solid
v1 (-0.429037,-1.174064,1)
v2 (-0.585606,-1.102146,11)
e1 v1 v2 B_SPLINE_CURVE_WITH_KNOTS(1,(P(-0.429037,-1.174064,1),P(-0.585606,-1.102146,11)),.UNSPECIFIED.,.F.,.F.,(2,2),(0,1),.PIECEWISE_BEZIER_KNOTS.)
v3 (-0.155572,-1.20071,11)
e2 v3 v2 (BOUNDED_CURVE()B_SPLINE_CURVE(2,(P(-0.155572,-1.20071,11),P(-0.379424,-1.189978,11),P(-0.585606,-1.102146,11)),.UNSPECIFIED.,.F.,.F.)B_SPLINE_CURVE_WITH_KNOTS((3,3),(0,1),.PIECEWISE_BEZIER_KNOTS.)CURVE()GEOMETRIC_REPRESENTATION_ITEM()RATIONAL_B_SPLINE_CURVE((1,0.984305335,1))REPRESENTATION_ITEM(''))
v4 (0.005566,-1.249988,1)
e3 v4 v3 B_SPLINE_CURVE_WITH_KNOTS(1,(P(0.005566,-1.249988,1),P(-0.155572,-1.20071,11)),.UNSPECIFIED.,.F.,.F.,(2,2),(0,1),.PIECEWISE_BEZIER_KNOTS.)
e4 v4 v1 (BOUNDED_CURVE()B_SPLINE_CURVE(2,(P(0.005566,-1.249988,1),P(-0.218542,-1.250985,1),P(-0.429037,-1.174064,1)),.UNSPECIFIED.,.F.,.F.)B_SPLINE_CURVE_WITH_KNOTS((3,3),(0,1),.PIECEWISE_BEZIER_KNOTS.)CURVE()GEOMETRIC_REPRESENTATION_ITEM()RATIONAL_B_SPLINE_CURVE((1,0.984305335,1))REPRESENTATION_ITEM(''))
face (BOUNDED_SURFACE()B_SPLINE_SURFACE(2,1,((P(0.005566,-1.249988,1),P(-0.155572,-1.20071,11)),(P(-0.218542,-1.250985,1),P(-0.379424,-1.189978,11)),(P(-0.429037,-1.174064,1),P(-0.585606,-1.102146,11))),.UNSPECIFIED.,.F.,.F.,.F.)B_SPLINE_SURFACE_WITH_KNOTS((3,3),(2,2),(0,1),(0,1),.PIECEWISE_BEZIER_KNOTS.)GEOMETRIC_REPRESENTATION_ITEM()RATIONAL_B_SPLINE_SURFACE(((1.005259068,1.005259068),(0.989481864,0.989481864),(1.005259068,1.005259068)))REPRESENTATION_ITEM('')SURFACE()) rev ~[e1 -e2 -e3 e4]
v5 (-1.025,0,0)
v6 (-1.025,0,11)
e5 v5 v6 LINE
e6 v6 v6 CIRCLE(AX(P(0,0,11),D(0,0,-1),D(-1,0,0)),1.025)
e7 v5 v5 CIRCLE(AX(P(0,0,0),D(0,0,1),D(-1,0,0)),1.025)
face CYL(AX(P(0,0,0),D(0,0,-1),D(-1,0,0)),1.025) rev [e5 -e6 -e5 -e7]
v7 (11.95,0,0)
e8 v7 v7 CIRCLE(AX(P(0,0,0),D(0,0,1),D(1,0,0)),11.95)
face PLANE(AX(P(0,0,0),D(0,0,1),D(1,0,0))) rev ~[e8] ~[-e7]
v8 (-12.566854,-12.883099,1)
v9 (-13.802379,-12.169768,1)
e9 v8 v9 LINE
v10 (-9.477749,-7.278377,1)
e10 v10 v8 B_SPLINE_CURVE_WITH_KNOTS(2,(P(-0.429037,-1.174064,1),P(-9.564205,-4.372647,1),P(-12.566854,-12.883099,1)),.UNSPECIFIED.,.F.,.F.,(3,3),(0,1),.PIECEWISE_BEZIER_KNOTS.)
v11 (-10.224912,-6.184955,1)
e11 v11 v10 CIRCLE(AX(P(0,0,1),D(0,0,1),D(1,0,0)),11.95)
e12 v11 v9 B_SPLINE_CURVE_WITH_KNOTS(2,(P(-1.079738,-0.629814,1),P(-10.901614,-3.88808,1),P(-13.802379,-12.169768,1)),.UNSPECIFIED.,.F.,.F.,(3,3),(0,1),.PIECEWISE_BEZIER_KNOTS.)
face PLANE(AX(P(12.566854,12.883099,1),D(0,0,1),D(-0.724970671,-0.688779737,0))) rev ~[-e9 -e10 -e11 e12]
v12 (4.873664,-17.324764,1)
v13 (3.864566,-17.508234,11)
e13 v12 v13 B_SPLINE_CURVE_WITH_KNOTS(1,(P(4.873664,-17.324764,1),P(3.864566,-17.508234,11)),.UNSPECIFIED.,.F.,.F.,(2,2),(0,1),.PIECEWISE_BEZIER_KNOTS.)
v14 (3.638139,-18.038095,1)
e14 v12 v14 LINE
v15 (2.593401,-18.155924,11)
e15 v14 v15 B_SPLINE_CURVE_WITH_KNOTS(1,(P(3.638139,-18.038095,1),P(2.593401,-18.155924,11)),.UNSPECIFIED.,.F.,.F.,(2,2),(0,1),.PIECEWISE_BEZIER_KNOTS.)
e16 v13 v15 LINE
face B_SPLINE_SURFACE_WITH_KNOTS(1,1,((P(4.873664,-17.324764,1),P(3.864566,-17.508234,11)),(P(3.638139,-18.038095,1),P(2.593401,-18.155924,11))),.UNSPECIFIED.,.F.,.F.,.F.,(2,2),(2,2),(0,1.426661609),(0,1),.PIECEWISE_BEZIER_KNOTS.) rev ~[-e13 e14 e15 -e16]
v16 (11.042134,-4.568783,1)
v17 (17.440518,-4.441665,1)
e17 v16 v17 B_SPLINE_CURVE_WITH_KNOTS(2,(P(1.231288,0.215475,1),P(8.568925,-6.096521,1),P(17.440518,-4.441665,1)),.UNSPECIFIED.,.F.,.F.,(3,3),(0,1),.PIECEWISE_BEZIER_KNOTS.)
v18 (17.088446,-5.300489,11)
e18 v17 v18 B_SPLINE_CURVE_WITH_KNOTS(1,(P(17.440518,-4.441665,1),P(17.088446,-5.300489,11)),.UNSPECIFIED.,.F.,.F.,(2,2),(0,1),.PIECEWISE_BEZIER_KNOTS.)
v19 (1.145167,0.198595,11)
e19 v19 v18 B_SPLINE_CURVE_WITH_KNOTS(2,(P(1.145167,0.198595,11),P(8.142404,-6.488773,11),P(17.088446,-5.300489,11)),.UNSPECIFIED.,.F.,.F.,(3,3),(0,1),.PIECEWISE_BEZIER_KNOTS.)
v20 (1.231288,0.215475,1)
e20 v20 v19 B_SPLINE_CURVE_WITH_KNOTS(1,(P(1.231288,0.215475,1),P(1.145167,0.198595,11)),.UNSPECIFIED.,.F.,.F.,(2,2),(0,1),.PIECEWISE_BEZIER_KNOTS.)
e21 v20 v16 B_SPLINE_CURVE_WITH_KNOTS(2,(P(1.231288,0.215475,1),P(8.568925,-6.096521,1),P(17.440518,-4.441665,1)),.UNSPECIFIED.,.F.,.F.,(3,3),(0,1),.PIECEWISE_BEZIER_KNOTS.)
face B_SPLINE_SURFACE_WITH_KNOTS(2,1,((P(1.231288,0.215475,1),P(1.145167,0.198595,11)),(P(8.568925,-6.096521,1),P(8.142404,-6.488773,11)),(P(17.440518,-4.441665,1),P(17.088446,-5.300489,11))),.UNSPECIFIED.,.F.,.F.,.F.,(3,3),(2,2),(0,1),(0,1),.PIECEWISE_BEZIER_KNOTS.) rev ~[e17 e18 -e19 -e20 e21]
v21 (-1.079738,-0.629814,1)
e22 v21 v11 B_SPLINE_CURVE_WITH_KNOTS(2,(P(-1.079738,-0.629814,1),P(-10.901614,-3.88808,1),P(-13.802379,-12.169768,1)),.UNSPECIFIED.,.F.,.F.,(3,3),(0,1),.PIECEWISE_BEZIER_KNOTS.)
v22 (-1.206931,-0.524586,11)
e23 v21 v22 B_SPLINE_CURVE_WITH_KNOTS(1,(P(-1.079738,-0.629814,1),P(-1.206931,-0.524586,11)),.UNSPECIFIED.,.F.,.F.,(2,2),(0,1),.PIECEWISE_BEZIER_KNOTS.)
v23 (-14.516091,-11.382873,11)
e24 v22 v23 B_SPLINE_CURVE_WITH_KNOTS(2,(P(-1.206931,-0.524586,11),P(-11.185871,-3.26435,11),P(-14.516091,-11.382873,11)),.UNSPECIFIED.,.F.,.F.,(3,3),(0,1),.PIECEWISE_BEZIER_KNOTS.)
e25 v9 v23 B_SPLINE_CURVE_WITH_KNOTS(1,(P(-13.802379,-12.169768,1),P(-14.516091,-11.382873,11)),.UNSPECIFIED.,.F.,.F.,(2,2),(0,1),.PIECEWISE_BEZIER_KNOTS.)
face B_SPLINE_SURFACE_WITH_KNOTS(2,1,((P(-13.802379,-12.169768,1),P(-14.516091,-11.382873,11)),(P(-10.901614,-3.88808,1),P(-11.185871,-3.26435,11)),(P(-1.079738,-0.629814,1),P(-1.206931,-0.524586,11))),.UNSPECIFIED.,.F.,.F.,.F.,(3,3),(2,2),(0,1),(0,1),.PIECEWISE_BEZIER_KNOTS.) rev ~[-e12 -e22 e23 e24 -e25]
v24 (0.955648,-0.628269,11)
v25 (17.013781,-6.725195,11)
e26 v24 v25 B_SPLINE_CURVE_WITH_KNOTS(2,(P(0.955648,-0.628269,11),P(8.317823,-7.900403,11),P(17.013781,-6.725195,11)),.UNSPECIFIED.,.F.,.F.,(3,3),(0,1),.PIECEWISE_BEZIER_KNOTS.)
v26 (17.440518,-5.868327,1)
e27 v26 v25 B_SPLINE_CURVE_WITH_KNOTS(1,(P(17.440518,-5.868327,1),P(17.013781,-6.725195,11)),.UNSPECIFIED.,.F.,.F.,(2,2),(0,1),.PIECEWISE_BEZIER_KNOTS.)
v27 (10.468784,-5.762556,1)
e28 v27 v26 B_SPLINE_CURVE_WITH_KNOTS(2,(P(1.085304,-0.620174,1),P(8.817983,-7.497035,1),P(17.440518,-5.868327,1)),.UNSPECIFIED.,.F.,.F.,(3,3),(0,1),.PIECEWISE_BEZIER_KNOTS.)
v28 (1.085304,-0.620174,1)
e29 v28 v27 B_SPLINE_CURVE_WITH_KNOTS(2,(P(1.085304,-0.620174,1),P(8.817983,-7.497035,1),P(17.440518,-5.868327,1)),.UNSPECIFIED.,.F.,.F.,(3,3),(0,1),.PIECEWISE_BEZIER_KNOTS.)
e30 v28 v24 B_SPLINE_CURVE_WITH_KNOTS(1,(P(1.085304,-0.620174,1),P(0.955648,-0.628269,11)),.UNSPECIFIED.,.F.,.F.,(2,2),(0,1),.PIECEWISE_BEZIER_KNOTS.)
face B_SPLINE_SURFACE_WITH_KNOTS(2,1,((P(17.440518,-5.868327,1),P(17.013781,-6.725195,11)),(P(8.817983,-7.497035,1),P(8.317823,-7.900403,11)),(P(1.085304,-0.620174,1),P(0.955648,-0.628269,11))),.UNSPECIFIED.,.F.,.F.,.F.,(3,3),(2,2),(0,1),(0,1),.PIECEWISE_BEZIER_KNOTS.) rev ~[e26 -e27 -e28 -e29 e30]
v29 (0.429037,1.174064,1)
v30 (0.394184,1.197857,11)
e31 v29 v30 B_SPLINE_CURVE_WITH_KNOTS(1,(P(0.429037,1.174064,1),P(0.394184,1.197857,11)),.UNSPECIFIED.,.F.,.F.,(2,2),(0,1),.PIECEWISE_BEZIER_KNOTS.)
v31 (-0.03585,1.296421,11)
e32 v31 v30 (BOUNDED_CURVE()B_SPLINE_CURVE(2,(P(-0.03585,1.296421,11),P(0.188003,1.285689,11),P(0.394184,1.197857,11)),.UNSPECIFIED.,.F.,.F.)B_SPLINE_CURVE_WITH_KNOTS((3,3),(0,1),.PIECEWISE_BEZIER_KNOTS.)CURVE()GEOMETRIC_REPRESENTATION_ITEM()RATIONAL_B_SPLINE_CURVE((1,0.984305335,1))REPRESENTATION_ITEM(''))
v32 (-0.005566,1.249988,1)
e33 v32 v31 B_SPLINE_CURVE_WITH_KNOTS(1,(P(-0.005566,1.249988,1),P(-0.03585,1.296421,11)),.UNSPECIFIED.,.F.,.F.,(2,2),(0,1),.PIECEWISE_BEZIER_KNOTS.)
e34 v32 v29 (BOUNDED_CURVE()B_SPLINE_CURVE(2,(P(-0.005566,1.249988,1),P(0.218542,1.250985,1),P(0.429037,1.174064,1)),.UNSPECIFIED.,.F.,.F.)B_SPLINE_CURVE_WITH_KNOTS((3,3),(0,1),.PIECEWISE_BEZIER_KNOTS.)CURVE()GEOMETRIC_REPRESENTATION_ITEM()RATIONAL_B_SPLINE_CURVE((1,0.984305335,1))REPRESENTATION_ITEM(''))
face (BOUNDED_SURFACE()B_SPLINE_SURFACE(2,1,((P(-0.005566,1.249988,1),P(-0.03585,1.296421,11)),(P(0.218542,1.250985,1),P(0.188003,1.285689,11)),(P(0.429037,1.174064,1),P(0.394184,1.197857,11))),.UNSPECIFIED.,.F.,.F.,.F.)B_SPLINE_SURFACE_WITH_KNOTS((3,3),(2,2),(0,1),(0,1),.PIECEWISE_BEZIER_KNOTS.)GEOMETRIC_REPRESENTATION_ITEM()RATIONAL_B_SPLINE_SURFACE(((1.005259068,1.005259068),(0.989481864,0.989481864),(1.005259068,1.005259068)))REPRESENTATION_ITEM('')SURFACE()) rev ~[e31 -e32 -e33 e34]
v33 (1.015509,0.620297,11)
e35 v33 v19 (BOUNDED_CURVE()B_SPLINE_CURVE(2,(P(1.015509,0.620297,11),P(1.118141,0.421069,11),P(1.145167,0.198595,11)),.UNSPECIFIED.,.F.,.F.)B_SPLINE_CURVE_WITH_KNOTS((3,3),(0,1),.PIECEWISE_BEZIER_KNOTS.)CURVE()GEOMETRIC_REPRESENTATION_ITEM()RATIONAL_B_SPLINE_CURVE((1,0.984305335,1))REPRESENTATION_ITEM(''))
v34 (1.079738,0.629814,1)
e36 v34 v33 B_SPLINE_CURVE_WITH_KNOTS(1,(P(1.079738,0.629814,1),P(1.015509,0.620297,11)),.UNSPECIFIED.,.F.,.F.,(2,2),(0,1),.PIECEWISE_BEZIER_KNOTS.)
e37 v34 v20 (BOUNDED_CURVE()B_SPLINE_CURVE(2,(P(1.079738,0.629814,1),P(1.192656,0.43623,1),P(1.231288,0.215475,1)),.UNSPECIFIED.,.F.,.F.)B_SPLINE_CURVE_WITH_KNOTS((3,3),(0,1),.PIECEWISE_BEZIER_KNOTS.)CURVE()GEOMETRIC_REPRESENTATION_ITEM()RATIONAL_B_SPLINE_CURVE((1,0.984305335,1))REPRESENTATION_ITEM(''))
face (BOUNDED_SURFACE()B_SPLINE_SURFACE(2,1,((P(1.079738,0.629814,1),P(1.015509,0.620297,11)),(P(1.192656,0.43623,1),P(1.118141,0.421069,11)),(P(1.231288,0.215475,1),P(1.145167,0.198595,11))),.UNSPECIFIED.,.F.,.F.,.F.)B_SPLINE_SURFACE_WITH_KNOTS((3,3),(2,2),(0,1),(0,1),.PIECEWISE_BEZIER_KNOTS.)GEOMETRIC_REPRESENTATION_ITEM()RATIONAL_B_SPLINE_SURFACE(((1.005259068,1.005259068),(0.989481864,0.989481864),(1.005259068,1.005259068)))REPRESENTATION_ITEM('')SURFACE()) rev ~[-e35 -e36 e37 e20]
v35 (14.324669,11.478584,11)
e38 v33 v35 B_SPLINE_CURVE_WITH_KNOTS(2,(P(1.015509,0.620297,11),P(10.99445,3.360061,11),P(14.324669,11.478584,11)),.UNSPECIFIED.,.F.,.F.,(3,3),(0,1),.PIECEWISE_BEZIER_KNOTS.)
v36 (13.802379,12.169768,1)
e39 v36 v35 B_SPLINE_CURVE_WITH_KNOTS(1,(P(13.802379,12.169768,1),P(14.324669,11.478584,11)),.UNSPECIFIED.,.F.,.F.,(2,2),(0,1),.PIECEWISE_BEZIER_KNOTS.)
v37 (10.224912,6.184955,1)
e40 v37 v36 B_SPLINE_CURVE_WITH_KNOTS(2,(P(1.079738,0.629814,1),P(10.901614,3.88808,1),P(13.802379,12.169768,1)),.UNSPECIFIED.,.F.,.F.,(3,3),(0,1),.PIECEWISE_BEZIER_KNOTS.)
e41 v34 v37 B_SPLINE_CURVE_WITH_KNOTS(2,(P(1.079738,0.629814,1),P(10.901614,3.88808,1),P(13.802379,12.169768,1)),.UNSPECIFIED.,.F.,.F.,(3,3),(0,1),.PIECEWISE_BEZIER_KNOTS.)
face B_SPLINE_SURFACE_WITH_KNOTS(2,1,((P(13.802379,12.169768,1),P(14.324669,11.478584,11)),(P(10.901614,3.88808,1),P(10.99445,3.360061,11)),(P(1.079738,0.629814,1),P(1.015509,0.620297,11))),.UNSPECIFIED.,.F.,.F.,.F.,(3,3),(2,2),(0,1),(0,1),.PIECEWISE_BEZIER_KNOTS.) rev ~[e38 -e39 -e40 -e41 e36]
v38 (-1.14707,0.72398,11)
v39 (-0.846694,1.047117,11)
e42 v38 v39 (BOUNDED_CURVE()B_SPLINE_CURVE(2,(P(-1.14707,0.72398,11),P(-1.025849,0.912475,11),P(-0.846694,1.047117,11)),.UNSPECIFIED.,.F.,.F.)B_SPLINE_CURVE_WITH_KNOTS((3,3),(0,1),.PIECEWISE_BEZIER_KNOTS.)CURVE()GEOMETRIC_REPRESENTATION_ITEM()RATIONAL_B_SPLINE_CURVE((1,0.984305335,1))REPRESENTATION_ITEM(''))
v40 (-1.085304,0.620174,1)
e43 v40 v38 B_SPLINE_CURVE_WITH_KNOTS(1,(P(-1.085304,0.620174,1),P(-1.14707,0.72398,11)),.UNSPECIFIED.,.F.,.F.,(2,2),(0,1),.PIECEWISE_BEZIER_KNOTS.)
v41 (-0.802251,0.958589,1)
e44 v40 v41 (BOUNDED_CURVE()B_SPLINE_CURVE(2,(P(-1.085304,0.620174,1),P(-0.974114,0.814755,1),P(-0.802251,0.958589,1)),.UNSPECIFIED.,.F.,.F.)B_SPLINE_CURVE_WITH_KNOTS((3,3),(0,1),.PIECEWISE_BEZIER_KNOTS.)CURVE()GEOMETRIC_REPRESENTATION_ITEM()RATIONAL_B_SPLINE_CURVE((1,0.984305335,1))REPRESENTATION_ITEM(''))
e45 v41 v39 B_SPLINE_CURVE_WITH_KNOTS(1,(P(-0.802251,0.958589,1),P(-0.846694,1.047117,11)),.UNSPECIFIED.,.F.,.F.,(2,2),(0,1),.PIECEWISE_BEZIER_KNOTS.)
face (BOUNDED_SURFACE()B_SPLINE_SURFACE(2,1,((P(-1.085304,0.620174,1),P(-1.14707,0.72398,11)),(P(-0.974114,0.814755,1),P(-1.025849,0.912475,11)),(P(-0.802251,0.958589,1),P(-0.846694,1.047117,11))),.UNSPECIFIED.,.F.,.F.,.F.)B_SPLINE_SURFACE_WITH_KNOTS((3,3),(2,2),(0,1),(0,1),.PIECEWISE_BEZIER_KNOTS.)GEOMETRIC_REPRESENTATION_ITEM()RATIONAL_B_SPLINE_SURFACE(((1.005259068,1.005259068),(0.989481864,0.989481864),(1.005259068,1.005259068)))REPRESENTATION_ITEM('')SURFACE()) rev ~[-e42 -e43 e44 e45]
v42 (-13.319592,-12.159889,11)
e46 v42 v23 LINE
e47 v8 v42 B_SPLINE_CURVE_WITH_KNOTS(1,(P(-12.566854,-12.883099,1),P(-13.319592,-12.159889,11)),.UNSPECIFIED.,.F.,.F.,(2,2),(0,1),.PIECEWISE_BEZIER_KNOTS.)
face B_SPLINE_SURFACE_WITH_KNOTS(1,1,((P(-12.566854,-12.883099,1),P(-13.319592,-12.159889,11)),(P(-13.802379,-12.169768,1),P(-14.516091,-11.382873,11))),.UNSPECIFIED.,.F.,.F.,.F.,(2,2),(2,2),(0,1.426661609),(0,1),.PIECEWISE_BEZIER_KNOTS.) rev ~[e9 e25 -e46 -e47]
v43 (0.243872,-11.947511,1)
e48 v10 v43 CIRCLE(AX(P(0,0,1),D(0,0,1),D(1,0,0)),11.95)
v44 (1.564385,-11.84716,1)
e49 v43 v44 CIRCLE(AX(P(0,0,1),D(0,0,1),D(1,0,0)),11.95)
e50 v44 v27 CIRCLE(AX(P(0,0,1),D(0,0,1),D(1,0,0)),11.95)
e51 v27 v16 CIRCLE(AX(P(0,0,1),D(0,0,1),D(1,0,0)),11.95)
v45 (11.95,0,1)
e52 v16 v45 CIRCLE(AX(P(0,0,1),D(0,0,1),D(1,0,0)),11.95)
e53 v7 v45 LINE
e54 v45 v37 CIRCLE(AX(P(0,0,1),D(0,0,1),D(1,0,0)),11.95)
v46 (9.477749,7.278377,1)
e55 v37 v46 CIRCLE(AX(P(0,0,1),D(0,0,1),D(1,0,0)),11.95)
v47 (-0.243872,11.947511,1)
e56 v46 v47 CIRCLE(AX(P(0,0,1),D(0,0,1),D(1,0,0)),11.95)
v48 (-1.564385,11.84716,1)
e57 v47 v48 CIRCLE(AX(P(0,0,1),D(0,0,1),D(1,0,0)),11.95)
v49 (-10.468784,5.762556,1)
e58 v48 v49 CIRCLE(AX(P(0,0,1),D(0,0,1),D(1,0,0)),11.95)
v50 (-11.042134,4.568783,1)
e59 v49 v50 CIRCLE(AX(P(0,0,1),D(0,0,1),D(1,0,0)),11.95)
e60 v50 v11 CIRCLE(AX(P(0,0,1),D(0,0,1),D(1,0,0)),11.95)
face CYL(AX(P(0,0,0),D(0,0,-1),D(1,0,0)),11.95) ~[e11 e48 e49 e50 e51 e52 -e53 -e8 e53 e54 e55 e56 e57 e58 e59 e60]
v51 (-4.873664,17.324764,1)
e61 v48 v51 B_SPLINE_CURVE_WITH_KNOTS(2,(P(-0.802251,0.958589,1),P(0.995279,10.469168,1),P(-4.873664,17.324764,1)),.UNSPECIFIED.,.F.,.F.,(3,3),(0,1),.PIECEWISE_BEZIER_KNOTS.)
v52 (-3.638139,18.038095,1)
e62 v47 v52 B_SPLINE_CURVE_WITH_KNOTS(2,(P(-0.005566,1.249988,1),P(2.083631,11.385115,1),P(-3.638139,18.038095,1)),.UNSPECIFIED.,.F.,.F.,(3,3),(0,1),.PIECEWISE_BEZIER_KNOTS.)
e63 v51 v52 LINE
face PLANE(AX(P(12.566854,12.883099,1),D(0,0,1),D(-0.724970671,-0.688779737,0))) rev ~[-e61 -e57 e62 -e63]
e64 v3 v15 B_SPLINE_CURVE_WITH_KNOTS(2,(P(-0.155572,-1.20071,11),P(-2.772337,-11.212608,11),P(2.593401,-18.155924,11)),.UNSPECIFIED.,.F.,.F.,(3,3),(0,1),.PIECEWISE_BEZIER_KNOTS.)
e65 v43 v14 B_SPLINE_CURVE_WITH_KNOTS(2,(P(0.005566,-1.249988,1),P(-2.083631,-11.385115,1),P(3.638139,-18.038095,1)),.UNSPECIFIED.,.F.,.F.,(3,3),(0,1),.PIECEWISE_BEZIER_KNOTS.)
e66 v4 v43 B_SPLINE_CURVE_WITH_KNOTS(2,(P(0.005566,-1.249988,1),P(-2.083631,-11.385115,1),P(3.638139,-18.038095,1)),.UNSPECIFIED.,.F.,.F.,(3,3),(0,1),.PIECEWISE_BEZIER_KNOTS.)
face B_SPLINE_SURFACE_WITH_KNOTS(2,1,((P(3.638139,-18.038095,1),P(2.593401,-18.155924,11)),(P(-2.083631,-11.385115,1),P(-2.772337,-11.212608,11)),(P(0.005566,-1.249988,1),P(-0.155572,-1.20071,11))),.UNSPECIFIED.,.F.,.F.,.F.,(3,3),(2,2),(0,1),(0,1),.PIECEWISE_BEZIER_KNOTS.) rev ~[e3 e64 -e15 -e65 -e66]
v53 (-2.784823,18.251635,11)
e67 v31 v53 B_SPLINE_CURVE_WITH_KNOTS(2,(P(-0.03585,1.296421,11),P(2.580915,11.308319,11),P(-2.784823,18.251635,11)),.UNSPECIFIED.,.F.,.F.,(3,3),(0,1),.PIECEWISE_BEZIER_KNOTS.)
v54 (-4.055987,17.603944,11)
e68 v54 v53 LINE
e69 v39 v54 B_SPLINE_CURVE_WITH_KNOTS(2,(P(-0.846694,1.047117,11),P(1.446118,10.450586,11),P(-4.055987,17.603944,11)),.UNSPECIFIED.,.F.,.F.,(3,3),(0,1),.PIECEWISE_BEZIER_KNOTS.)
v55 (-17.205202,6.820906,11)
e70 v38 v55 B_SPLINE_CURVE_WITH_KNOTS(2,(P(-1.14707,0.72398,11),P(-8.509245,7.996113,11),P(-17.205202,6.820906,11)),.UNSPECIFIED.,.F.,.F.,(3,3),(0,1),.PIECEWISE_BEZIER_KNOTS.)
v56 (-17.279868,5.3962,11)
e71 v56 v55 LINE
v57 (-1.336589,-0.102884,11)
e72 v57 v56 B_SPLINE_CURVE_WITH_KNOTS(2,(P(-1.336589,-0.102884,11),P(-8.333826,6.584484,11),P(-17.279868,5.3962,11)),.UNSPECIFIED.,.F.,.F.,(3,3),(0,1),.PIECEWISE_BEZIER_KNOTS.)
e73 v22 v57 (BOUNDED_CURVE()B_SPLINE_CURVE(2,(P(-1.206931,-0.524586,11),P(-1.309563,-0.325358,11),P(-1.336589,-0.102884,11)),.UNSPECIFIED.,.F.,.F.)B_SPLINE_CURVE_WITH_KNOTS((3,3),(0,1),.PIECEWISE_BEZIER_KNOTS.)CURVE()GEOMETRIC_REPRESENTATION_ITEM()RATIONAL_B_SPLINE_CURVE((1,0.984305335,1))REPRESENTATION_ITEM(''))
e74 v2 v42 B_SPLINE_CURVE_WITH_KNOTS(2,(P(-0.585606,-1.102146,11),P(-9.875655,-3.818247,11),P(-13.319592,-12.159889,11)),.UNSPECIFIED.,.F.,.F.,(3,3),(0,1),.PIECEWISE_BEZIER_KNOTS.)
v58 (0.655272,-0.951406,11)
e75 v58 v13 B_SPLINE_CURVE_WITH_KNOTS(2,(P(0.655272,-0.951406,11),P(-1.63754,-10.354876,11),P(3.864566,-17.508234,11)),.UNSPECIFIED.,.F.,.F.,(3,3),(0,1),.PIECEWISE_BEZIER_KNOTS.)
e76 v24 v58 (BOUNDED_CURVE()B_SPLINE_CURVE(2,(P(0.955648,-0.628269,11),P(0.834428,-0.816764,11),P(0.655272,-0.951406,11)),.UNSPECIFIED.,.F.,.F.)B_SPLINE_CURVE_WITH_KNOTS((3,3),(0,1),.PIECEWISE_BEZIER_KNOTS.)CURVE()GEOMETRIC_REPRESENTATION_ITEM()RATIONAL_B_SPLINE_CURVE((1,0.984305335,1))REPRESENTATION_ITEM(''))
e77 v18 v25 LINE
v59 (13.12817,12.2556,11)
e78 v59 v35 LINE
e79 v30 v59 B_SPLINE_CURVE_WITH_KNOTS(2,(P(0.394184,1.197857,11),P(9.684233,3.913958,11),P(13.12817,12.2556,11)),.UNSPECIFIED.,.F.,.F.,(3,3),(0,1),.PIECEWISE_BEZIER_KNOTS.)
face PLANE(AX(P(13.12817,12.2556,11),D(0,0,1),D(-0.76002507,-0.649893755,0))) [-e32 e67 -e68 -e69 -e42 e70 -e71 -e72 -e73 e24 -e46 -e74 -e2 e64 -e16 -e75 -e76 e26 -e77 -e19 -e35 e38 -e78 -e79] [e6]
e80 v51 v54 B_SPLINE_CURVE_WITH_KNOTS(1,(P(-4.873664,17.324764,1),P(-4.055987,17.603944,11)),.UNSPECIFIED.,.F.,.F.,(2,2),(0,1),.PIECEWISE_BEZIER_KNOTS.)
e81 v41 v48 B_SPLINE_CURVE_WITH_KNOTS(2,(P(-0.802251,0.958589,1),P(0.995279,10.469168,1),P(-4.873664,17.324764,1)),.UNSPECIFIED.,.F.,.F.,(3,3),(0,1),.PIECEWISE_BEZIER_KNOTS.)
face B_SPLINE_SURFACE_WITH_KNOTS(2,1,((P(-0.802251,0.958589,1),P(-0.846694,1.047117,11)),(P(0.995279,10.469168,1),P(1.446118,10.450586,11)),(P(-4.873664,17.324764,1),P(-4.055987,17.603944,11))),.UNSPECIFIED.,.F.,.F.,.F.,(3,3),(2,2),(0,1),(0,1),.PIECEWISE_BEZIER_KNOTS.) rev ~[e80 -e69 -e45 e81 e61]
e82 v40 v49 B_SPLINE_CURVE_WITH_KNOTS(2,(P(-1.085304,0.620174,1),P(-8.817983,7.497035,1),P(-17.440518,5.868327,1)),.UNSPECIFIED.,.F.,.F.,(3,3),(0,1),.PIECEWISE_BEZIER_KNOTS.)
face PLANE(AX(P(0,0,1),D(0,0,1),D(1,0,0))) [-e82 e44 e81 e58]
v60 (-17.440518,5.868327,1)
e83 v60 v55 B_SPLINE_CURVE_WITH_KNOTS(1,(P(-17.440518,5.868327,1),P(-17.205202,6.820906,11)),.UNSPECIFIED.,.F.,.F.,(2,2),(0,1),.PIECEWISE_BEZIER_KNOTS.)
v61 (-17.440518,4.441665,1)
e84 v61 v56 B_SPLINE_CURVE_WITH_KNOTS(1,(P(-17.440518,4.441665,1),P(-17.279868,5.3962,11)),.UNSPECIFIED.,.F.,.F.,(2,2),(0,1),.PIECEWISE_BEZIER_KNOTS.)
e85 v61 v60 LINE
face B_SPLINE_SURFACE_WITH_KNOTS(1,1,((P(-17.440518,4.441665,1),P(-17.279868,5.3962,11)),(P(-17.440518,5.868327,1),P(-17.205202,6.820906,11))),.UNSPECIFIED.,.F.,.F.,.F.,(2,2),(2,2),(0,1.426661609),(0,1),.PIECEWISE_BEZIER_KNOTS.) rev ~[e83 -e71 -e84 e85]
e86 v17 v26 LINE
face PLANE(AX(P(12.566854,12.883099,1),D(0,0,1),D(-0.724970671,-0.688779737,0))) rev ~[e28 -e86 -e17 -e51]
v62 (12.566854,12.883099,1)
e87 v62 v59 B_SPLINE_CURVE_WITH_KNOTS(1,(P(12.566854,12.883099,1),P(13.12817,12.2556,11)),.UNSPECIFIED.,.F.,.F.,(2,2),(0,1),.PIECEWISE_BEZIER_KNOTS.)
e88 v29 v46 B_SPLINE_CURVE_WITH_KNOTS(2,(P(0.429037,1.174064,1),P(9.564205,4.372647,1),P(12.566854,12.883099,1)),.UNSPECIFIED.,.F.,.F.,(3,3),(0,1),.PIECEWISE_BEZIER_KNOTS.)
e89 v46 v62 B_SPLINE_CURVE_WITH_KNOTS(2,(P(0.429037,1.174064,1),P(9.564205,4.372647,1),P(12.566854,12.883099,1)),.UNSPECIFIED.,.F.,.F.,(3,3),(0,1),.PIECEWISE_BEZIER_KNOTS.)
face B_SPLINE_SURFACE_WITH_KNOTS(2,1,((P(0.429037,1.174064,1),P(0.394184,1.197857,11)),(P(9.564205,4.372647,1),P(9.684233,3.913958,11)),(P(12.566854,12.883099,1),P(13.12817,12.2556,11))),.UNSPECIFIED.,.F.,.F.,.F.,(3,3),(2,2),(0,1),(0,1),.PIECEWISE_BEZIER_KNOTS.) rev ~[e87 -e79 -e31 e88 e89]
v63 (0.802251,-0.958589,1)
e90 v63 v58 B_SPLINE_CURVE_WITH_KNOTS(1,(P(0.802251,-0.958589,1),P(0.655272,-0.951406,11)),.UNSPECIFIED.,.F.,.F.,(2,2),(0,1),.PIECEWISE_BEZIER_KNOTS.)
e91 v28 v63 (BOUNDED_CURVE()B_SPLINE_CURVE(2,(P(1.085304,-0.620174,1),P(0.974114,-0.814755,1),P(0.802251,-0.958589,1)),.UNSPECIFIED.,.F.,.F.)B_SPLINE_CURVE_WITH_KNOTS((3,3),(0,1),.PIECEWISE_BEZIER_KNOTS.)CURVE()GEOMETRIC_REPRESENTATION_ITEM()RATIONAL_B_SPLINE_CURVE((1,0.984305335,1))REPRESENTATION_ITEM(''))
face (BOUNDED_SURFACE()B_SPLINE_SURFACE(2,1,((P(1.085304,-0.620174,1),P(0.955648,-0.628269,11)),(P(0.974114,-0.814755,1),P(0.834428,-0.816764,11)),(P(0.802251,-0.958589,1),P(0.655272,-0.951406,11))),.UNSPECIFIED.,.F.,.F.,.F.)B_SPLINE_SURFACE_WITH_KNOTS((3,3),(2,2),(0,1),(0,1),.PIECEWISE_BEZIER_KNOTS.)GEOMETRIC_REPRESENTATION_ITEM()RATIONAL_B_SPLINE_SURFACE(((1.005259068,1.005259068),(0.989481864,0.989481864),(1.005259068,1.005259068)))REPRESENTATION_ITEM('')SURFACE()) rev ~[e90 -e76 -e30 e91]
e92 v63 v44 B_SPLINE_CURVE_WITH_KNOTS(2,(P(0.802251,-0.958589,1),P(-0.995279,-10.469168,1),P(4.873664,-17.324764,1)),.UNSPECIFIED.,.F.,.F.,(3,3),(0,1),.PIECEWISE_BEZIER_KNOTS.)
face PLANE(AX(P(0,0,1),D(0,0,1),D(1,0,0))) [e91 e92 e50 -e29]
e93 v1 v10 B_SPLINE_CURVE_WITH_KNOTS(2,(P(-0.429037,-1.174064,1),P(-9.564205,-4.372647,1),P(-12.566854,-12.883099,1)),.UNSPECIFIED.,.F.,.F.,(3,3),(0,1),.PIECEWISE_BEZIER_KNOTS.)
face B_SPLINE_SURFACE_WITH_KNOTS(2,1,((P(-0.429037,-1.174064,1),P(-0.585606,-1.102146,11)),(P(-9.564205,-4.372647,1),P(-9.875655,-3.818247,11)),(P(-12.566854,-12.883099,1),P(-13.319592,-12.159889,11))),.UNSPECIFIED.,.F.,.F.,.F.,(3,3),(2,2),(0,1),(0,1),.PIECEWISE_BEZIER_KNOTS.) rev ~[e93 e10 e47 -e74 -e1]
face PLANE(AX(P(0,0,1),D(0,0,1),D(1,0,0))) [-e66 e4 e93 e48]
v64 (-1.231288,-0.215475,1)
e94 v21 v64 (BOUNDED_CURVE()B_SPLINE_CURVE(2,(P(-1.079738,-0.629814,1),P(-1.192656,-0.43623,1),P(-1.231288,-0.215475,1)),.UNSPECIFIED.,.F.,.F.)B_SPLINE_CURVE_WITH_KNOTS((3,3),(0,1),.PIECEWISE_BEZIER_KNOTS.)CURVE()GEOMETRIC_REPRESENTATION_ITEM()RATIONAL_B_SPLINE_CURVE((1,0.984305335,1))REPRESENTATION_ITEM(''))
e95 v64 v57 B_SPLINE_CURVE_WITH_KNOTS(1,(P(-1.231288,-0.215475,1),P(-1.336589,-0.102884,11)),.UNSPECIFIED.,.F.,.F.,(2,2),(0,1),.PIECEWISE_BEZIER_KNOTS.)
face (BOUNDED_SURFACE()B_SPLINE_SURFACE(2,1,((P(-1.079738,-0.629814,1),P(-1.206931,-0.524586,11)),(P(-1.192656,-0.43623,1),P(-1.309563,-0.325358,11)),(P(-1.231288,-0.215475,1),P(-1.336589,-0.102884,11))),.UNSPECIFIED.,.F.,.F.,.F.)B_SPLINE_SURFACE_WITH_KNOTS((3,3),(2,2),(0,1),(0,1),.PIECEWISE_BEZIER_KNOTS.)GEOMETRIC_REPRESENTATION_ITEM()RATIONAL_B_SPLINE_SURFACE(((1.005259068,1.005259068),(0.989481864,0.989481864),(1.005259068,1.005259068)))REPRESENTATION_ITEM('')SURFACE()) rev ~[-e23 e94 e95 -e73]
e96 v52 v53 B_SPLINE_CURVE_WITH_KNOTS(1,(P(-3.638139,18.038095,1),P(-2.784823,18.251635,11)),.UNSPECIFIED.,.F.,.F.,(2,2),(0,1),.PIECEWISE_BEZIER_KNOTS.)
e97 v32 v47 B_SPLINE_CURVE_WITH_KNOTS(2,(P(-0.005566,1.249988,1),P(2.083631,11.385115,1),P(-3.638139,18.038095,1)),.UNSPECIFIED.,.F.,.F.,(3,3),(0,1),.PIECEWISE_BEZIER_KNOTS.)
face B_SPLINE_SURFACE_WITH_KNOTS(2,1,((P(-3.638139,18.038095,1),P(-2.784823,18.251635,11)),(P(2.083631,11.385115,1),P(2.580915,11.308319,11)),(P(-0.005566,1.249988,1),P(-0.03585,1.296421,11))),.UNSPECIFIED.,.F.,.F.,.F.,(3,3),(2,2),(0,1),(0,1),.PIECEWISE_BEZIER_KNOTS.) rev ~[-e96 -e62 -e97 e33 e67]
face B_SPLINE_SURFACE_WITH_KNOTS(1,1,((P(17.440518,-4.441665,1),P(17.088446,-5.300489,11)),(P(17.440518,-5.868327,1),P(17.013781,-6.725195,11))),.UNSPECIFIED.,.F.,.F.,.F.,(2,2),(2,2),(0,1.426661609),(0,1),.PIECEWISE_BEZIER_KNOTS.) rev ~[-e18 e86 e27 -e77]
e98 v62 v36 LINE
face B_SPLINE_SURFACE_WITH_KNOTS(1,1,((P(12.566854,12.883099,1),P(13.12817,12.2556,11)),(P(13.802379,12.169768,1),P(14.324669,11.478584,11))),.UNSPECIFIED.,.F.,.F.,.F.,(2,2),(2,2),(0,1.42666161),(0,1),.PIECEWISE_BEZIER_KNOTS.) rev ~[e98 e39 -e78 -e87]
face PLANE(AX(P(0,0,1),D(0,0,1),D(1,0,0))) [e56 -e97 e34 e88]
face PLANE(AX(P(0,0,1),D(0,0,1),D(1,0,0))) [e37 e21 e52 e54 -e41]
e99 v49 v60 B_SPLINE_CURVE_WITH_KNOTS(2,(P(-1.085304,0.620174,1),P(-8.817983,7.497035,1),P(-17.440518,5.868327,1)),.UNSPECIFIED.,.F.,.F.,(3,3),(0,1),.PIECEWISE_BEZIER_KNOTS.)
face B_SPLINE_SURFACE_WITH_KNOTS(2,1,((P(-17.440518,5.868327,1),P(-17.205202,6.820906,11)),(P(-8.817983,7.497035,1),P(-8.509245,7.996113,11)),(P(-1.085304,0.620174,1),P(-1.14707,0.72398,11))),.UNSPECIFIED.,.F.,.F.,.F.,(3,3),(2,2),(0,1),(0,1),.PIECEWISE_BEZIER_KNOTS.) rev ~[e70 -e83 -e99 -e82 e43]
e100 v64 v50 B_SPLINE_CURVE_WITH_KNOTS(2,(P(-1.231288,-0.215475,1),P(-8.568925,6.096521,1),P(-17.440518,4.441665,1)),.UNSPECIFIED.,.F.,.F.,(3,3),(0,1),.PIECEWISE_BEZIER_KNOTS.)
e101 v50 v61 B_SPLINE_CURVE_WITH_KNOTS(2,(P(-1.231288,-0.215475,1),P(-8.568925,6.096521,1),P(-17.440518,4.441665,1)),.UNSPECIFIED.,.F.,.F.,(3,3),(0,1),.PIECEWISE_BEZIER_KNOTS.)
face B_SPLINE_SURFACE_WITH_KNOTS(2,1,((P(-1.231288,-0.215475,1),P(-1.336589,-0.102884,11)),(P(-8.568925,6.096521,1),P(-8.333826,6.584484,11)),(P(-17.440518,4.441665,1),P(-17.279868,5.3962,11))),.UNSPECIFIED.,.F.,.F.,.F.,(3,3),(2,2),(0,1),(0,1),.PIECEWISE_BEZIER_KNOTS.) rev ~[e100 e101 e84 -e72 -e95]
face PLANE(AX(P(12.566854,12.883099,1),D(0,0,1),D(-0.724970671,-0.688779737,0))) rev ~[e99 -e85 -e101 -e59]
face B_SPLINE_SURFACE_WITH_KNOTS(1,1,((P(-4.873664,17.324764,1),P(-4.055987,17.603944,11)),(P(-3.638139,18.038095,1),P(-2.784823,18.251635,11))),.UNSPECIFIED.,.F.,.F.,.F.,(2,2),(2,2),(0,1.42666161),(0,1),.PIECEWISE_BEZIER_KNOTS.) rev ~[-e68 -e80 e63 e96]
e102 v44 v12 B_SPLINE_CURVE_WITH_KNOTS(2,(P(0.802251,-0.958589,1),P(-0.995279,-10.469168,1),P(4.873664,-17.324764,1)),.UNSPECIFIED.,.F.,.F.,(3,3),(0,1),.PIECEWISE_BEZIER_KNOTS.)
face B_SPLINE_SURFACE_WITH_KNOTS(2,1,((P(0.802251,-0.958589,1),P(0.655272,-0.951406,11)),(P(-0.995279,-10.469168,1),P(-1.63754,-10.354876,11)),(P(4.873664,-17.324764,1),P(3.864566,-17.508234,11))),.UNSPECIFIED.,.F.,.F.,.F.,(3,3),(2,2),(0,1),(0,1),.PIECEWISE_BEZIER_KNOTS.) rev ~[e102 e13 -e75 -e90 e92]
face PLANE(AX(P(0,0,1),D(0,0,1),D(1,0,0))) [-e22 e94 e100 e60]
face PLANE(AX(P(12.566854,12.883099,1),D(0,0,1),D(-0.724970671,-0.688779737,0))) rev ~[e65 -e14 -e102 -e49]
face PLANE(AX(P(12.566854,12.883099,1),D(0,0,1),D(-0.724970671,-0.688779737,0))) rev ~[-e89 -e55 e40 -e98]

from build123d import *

# Parameters (mm, degrees)
SKETCH1_R           = 11.95
SKETCH1_R_2         = 1.25
BOSS_EXTRUDE5_DEPTH = 1
SKETCH1_9_R         = 1.25
BOSS_EXTRUDE9_DEPTH = 1
SKETCH1_12_R        = 1.025
CUT_EXTRUDE6_DEPTH  = 28.53713591


with BuildPart() as part:
    # Sketch1 → Boss-Extrude5 (new body)
    with BuildSketch(Plane.XY):
        Circle(SKETCH1_R)
        Circle(SKETCH1_R_2, mode=Mode.SUBTRACT)
    extrude(amount=BOSS_EXTRUDE5_DEPTH)

    # Sketch1<9> → Boss-Extrude9 (add)
    with BuildSketch(Plane.XY):
        Circle(SKETCH1_9_R)
    extrude(amount=BOSS_EXTRUDE9_DEPTH)

    # Sketch16 for Loft3 → Loft3 section 0
    with BuildSketch(Plane.XY.offset(1)):
        with BuildLine():
            Line((12.566853953, 12.883098649), (13.802379149, 12.169767844))
            add(Edge.make_bspline(
                [(1.079738119, 0.629813936), (10.901614273, 3.888080069), (13.802379149, 12.169767844)],
                knots=[0, 0, 0, 1, 1, 1], degree=2))
            # circular arc as an exact rational Bezier (weights 1, cos(half-angle), 1)
            Bezier((1.079738119, 0.629813936), (1.192655997, 0.436230196), (1.231288084, 0.215475415), weights=[1, 0.984305335, 1])
            add(Edge.make_bspline(
                [(1.231288084, 0.215475415), (8.568925474, -6.096520826), (17.440517686, -4.441665445)],
                knots=[0, 0, 0, 1, 1, 1], degree=2))
            Line((17.440517686, -4.441665445), (17.440517686, -5.868327054))
            add(Edge.make_bspline(
                [(1.085303928, -0.620173673), (8.817983248, -7.497034868), (17.440517686, -5.868327054)],
                knots=[0, 0, 0, 1, 1, 1], degree=2))
            Bezier((1.085303928, -0.620173673), (0.97411443, -0.814755294), (0.802251225, -0.958589053), weights=[1, 0.984305335, 1])
            add(Edge.make_bspline(
                [(0.802251225, -0.958589053), (-0.995279173, -10.469167557), (4.873663733, -17.324764093)],
                knots=[0, 0, 0, 1, 1, 1], degree=2))
            Line((4.873663733, -17.324764093), (3.638138537, -18.038094898))
            add(Edge.make_bspline(
                [(0.005565808, -1.249987609), (-2.083631025, -11.385114937), (3.638138537, -18.038094898)],
                knots=[0, 0, 0, 1, 1, 1], degree=2))
            Bezier((0.005565808, -1.249987609), (-0.218541567, -1.250985489), (-0.429036859, -1.174064467), weights=[1, 0.984305335, 1])
            add(Edge.make_bspline(
                [(-0.429036859, -1.174064467), (-9.564204647, -4.37264673), (-12.566853953, -12.883098649)],
                knots=[0, 0, 0, 1, 1, 1], degree=2))
            Line((-12.566853953, -12.883098649), (-13.802379149, -12.169767844))
            add(Edge.make_bspline(
                [(-1.079738119, -0.629813936), (-10.901614273, -3.888080069), (-13.802379149, -12.169767844)],
                knots=[0, 0, 0, 1, 1, 1], degree=2))
            Bezier((-1.079738119, -0.629813936), (-1.192655997, -0.436230196), (-1.231288084, -0.215475415), weights=[1, 0.984305335, 1])
            add(Edge.make_bspline(
                [(-1.231288084, -0.215475415), (-8.568925474, 6.096520826), (-17.440517686, 4.441665445)],
                knots=[0, 0, 0, 1, 1, 1], degree=2))
            Line((-17.440517686, 4.441665445), (-17.440517686, 5.868327054))
            add(Edge.make_bspline(
                [(-1.085303928, 0.620173673), (-8.817983248, 7.497034868), (-17.440517686, 5.868327054)],
                knots=[0, 0, 0, 1, 1, 1], degree=2))
            Bezier((-1.085303928, 0.620173673), (-0.97411443, 0.814755294), (-0.802251225, 0.958589053), weights=[1, 0.984305335, 1])
            add(Edge.make_bspline(
                [(-0.802251225, 0.958589053), (0.995279173, 10.469167557), (-4.873663733, 17.324764093)],
                knots=[0, 0, 0, 1, 1, 1], degree=2))
            Line((-4.873663733, 17.324764093), (-3.638138537, 18.038094898))
            add(Edge.make_bspline(
                [(-0.005565808, 1.249987609), (2.083631025, 11.385114937), (-3.638138537, 18.038094898)],
                knots=[0, 0, 0, 1, 1, 1], degree=2))
            Bezier((-0.005565808, 1.249987609), (0.218541567, 1.250985489), (0.429036859, 1.174064467), weights=[1, 0.984305335, 1])
            add(Edge.make_bspline(
                [(0.429036859, 1.174064467), (9.564204647, 4.37264673), (12.566853953, 12.883098649)],
                knots=[0, 0, 0, 1, 1, 1], degree=2))
        make_face()
    # Sketch22 for Loft3 → Loft3 section 1
    with BuildSketch(Plane.XY.offset(11)):
        with BuildLine():
            Line((13.128169943, 12.255599921), (14.324669046, 11.478584319))
            add(Edge.make_bspline(
                [(1.01550943, 0.620297101), (10.994449518, 3.360060613), (14.324669046, 11.478584319)],
                knots=[0, 0, 0, 1, 1, 1], degree=2))
            Bezier((1.01550943, 0.620297101), (1.118141168, 0.421068995), (1.145166898, 0.198594904), weights=[1, 0.984305335, 1])
            add(Edge.make_bspline(
                [(1.145166898, 0.198594904), (8.142403952, -6.488773235), (17.088446394, -5.300489037)],
                knots=[0, 0, 0, 1, 1, 1], degree=2))
            Line((17.088446394, -5.300489037), (17.013780694, -6.725195456))
            add(Edge.make_bspline(
                [(0.955648314, -0.628268735), (8.31782316, -7.900402598), (17.013780694, -6.725195456)],
                knots=[0, 0, 0, 1, 1, 1], degree=2))
            Bezier((0.955648314, -0.628268735), (0.834427583, -0.81676448), (0.655272233, -0.951406495), weights=[1, 0.984305335, 1])
            add(Edge.make_bspline(
                [(0.655272233, -0.951406495), (-1.637539933, -10.354875609), (3.86456559, -17.508233528)],
                knots=[0, 0, 0, 1, 1, 1], degree=2))
            Line((3.86456559, -17.508233528), (2.593400789, -18.155924345))
            add(Edge.make_bspline(
                [(-0.155571976, -1.200710406), (-2.772337218, -11.21260778), (2.593400789, -18.155924345)],
                knots=[0, 0, 0, 1, 1, 1], degree=2))
            Bezier((-0.155571976, -1.200710406), (-0.379424445, -1.189978045), (-0.585605526, -1.102145969), weights=[1, 0.984305335, 1])
            add(Edge.make_bspline(
                [(-0.585605526, -1.102145969), (-9.875654745, -3.818246944), (-13.319591664, -12.159889061)],
                knots=[0, 0, 0, 1, 1, 1], degree=2))
            Line((-13.319591664, -12.159889061), (-14.516090766, -11.382873459))
            add(Edge.make_bspline(
                [(-1.20693115, -0.524586241), (-11.185871238, -3.264349753), (-14.516090766, -11.382873459)],
                knots=[0, 0, 0, 1, 1, 1], degree=2))
            Bezier((-1.20693115, -0.524586241), (-1.309562888, -0.325358135), (-1.336588618, -0.102884044), weights=[1, 0.984305335, 1])
            add(Edge.make_bspline(
                [(-1.336588618, -0.102884044), (-8.333825672, 6.584484095), (-17.279868114, 5.396199897)],
                knots=[0, 0, 0, 1, 1, 1], degree=2))
            Line((-17.279868114, 5.396199897), (-17.205202415, 6.820906316))
            add(Edge.make_bspline(
                [(-1.147070034, 0.723979595), (-8.50924488, 7.996113458), (-17.205202415, 6.820906316)],
                knots=[0, 0, 0, 1, 1, 1], degree=2))
            Bezier((-1.147070034, 0.723979595), (-1.025849303, 0.91247534), (-0.846693953, 1.047117355), weights=[1, 0.984305335, 1])
            add(Edge.make_bspline(
                [(-0.846693953, 1.047117355), (1.446118213, 10.450586469), (-4.055987311, 17.603944388)],
                knots=[0, 0, 0, 1, 1, 1], degree=2))
            Line((-4.055987311, 17.603944388), (-2.784822509, 18.251635205))
            add(Edge.make_bspline(
                [(-0.035849744, 1.296421266), (2.580915498, 11.30831864), (-2.784822509, 18.251635205)],
                knots=[0, 0, 0, 1, 1, 1], degree=2))
            Bezier((-0.035849744, 1.296421266), (0.188002725, 1.285688905), (0.394183805, 1.197856829), weights=[1, 0.984305335, 1])
            add(Edge.make_bspline(
                [(0.394183805, 1.197856829), (9.684233025, 3.913957804), (13.128169943, 12.255599921)],
                knots=[0, 0, 0, 1, 1, 1], degree=2))
        make_face()
    loft()

    # Sketch1<12> → Cut-Extrude6 (cut, through all)
    with BuildSketch(Plane.XY):
        Circle(SKETCH1_12_R)
    extrude(amount=CUT_EXTRUDE6_DEPTH, mode=Mode.SUBTRACT)


solid = part.part
